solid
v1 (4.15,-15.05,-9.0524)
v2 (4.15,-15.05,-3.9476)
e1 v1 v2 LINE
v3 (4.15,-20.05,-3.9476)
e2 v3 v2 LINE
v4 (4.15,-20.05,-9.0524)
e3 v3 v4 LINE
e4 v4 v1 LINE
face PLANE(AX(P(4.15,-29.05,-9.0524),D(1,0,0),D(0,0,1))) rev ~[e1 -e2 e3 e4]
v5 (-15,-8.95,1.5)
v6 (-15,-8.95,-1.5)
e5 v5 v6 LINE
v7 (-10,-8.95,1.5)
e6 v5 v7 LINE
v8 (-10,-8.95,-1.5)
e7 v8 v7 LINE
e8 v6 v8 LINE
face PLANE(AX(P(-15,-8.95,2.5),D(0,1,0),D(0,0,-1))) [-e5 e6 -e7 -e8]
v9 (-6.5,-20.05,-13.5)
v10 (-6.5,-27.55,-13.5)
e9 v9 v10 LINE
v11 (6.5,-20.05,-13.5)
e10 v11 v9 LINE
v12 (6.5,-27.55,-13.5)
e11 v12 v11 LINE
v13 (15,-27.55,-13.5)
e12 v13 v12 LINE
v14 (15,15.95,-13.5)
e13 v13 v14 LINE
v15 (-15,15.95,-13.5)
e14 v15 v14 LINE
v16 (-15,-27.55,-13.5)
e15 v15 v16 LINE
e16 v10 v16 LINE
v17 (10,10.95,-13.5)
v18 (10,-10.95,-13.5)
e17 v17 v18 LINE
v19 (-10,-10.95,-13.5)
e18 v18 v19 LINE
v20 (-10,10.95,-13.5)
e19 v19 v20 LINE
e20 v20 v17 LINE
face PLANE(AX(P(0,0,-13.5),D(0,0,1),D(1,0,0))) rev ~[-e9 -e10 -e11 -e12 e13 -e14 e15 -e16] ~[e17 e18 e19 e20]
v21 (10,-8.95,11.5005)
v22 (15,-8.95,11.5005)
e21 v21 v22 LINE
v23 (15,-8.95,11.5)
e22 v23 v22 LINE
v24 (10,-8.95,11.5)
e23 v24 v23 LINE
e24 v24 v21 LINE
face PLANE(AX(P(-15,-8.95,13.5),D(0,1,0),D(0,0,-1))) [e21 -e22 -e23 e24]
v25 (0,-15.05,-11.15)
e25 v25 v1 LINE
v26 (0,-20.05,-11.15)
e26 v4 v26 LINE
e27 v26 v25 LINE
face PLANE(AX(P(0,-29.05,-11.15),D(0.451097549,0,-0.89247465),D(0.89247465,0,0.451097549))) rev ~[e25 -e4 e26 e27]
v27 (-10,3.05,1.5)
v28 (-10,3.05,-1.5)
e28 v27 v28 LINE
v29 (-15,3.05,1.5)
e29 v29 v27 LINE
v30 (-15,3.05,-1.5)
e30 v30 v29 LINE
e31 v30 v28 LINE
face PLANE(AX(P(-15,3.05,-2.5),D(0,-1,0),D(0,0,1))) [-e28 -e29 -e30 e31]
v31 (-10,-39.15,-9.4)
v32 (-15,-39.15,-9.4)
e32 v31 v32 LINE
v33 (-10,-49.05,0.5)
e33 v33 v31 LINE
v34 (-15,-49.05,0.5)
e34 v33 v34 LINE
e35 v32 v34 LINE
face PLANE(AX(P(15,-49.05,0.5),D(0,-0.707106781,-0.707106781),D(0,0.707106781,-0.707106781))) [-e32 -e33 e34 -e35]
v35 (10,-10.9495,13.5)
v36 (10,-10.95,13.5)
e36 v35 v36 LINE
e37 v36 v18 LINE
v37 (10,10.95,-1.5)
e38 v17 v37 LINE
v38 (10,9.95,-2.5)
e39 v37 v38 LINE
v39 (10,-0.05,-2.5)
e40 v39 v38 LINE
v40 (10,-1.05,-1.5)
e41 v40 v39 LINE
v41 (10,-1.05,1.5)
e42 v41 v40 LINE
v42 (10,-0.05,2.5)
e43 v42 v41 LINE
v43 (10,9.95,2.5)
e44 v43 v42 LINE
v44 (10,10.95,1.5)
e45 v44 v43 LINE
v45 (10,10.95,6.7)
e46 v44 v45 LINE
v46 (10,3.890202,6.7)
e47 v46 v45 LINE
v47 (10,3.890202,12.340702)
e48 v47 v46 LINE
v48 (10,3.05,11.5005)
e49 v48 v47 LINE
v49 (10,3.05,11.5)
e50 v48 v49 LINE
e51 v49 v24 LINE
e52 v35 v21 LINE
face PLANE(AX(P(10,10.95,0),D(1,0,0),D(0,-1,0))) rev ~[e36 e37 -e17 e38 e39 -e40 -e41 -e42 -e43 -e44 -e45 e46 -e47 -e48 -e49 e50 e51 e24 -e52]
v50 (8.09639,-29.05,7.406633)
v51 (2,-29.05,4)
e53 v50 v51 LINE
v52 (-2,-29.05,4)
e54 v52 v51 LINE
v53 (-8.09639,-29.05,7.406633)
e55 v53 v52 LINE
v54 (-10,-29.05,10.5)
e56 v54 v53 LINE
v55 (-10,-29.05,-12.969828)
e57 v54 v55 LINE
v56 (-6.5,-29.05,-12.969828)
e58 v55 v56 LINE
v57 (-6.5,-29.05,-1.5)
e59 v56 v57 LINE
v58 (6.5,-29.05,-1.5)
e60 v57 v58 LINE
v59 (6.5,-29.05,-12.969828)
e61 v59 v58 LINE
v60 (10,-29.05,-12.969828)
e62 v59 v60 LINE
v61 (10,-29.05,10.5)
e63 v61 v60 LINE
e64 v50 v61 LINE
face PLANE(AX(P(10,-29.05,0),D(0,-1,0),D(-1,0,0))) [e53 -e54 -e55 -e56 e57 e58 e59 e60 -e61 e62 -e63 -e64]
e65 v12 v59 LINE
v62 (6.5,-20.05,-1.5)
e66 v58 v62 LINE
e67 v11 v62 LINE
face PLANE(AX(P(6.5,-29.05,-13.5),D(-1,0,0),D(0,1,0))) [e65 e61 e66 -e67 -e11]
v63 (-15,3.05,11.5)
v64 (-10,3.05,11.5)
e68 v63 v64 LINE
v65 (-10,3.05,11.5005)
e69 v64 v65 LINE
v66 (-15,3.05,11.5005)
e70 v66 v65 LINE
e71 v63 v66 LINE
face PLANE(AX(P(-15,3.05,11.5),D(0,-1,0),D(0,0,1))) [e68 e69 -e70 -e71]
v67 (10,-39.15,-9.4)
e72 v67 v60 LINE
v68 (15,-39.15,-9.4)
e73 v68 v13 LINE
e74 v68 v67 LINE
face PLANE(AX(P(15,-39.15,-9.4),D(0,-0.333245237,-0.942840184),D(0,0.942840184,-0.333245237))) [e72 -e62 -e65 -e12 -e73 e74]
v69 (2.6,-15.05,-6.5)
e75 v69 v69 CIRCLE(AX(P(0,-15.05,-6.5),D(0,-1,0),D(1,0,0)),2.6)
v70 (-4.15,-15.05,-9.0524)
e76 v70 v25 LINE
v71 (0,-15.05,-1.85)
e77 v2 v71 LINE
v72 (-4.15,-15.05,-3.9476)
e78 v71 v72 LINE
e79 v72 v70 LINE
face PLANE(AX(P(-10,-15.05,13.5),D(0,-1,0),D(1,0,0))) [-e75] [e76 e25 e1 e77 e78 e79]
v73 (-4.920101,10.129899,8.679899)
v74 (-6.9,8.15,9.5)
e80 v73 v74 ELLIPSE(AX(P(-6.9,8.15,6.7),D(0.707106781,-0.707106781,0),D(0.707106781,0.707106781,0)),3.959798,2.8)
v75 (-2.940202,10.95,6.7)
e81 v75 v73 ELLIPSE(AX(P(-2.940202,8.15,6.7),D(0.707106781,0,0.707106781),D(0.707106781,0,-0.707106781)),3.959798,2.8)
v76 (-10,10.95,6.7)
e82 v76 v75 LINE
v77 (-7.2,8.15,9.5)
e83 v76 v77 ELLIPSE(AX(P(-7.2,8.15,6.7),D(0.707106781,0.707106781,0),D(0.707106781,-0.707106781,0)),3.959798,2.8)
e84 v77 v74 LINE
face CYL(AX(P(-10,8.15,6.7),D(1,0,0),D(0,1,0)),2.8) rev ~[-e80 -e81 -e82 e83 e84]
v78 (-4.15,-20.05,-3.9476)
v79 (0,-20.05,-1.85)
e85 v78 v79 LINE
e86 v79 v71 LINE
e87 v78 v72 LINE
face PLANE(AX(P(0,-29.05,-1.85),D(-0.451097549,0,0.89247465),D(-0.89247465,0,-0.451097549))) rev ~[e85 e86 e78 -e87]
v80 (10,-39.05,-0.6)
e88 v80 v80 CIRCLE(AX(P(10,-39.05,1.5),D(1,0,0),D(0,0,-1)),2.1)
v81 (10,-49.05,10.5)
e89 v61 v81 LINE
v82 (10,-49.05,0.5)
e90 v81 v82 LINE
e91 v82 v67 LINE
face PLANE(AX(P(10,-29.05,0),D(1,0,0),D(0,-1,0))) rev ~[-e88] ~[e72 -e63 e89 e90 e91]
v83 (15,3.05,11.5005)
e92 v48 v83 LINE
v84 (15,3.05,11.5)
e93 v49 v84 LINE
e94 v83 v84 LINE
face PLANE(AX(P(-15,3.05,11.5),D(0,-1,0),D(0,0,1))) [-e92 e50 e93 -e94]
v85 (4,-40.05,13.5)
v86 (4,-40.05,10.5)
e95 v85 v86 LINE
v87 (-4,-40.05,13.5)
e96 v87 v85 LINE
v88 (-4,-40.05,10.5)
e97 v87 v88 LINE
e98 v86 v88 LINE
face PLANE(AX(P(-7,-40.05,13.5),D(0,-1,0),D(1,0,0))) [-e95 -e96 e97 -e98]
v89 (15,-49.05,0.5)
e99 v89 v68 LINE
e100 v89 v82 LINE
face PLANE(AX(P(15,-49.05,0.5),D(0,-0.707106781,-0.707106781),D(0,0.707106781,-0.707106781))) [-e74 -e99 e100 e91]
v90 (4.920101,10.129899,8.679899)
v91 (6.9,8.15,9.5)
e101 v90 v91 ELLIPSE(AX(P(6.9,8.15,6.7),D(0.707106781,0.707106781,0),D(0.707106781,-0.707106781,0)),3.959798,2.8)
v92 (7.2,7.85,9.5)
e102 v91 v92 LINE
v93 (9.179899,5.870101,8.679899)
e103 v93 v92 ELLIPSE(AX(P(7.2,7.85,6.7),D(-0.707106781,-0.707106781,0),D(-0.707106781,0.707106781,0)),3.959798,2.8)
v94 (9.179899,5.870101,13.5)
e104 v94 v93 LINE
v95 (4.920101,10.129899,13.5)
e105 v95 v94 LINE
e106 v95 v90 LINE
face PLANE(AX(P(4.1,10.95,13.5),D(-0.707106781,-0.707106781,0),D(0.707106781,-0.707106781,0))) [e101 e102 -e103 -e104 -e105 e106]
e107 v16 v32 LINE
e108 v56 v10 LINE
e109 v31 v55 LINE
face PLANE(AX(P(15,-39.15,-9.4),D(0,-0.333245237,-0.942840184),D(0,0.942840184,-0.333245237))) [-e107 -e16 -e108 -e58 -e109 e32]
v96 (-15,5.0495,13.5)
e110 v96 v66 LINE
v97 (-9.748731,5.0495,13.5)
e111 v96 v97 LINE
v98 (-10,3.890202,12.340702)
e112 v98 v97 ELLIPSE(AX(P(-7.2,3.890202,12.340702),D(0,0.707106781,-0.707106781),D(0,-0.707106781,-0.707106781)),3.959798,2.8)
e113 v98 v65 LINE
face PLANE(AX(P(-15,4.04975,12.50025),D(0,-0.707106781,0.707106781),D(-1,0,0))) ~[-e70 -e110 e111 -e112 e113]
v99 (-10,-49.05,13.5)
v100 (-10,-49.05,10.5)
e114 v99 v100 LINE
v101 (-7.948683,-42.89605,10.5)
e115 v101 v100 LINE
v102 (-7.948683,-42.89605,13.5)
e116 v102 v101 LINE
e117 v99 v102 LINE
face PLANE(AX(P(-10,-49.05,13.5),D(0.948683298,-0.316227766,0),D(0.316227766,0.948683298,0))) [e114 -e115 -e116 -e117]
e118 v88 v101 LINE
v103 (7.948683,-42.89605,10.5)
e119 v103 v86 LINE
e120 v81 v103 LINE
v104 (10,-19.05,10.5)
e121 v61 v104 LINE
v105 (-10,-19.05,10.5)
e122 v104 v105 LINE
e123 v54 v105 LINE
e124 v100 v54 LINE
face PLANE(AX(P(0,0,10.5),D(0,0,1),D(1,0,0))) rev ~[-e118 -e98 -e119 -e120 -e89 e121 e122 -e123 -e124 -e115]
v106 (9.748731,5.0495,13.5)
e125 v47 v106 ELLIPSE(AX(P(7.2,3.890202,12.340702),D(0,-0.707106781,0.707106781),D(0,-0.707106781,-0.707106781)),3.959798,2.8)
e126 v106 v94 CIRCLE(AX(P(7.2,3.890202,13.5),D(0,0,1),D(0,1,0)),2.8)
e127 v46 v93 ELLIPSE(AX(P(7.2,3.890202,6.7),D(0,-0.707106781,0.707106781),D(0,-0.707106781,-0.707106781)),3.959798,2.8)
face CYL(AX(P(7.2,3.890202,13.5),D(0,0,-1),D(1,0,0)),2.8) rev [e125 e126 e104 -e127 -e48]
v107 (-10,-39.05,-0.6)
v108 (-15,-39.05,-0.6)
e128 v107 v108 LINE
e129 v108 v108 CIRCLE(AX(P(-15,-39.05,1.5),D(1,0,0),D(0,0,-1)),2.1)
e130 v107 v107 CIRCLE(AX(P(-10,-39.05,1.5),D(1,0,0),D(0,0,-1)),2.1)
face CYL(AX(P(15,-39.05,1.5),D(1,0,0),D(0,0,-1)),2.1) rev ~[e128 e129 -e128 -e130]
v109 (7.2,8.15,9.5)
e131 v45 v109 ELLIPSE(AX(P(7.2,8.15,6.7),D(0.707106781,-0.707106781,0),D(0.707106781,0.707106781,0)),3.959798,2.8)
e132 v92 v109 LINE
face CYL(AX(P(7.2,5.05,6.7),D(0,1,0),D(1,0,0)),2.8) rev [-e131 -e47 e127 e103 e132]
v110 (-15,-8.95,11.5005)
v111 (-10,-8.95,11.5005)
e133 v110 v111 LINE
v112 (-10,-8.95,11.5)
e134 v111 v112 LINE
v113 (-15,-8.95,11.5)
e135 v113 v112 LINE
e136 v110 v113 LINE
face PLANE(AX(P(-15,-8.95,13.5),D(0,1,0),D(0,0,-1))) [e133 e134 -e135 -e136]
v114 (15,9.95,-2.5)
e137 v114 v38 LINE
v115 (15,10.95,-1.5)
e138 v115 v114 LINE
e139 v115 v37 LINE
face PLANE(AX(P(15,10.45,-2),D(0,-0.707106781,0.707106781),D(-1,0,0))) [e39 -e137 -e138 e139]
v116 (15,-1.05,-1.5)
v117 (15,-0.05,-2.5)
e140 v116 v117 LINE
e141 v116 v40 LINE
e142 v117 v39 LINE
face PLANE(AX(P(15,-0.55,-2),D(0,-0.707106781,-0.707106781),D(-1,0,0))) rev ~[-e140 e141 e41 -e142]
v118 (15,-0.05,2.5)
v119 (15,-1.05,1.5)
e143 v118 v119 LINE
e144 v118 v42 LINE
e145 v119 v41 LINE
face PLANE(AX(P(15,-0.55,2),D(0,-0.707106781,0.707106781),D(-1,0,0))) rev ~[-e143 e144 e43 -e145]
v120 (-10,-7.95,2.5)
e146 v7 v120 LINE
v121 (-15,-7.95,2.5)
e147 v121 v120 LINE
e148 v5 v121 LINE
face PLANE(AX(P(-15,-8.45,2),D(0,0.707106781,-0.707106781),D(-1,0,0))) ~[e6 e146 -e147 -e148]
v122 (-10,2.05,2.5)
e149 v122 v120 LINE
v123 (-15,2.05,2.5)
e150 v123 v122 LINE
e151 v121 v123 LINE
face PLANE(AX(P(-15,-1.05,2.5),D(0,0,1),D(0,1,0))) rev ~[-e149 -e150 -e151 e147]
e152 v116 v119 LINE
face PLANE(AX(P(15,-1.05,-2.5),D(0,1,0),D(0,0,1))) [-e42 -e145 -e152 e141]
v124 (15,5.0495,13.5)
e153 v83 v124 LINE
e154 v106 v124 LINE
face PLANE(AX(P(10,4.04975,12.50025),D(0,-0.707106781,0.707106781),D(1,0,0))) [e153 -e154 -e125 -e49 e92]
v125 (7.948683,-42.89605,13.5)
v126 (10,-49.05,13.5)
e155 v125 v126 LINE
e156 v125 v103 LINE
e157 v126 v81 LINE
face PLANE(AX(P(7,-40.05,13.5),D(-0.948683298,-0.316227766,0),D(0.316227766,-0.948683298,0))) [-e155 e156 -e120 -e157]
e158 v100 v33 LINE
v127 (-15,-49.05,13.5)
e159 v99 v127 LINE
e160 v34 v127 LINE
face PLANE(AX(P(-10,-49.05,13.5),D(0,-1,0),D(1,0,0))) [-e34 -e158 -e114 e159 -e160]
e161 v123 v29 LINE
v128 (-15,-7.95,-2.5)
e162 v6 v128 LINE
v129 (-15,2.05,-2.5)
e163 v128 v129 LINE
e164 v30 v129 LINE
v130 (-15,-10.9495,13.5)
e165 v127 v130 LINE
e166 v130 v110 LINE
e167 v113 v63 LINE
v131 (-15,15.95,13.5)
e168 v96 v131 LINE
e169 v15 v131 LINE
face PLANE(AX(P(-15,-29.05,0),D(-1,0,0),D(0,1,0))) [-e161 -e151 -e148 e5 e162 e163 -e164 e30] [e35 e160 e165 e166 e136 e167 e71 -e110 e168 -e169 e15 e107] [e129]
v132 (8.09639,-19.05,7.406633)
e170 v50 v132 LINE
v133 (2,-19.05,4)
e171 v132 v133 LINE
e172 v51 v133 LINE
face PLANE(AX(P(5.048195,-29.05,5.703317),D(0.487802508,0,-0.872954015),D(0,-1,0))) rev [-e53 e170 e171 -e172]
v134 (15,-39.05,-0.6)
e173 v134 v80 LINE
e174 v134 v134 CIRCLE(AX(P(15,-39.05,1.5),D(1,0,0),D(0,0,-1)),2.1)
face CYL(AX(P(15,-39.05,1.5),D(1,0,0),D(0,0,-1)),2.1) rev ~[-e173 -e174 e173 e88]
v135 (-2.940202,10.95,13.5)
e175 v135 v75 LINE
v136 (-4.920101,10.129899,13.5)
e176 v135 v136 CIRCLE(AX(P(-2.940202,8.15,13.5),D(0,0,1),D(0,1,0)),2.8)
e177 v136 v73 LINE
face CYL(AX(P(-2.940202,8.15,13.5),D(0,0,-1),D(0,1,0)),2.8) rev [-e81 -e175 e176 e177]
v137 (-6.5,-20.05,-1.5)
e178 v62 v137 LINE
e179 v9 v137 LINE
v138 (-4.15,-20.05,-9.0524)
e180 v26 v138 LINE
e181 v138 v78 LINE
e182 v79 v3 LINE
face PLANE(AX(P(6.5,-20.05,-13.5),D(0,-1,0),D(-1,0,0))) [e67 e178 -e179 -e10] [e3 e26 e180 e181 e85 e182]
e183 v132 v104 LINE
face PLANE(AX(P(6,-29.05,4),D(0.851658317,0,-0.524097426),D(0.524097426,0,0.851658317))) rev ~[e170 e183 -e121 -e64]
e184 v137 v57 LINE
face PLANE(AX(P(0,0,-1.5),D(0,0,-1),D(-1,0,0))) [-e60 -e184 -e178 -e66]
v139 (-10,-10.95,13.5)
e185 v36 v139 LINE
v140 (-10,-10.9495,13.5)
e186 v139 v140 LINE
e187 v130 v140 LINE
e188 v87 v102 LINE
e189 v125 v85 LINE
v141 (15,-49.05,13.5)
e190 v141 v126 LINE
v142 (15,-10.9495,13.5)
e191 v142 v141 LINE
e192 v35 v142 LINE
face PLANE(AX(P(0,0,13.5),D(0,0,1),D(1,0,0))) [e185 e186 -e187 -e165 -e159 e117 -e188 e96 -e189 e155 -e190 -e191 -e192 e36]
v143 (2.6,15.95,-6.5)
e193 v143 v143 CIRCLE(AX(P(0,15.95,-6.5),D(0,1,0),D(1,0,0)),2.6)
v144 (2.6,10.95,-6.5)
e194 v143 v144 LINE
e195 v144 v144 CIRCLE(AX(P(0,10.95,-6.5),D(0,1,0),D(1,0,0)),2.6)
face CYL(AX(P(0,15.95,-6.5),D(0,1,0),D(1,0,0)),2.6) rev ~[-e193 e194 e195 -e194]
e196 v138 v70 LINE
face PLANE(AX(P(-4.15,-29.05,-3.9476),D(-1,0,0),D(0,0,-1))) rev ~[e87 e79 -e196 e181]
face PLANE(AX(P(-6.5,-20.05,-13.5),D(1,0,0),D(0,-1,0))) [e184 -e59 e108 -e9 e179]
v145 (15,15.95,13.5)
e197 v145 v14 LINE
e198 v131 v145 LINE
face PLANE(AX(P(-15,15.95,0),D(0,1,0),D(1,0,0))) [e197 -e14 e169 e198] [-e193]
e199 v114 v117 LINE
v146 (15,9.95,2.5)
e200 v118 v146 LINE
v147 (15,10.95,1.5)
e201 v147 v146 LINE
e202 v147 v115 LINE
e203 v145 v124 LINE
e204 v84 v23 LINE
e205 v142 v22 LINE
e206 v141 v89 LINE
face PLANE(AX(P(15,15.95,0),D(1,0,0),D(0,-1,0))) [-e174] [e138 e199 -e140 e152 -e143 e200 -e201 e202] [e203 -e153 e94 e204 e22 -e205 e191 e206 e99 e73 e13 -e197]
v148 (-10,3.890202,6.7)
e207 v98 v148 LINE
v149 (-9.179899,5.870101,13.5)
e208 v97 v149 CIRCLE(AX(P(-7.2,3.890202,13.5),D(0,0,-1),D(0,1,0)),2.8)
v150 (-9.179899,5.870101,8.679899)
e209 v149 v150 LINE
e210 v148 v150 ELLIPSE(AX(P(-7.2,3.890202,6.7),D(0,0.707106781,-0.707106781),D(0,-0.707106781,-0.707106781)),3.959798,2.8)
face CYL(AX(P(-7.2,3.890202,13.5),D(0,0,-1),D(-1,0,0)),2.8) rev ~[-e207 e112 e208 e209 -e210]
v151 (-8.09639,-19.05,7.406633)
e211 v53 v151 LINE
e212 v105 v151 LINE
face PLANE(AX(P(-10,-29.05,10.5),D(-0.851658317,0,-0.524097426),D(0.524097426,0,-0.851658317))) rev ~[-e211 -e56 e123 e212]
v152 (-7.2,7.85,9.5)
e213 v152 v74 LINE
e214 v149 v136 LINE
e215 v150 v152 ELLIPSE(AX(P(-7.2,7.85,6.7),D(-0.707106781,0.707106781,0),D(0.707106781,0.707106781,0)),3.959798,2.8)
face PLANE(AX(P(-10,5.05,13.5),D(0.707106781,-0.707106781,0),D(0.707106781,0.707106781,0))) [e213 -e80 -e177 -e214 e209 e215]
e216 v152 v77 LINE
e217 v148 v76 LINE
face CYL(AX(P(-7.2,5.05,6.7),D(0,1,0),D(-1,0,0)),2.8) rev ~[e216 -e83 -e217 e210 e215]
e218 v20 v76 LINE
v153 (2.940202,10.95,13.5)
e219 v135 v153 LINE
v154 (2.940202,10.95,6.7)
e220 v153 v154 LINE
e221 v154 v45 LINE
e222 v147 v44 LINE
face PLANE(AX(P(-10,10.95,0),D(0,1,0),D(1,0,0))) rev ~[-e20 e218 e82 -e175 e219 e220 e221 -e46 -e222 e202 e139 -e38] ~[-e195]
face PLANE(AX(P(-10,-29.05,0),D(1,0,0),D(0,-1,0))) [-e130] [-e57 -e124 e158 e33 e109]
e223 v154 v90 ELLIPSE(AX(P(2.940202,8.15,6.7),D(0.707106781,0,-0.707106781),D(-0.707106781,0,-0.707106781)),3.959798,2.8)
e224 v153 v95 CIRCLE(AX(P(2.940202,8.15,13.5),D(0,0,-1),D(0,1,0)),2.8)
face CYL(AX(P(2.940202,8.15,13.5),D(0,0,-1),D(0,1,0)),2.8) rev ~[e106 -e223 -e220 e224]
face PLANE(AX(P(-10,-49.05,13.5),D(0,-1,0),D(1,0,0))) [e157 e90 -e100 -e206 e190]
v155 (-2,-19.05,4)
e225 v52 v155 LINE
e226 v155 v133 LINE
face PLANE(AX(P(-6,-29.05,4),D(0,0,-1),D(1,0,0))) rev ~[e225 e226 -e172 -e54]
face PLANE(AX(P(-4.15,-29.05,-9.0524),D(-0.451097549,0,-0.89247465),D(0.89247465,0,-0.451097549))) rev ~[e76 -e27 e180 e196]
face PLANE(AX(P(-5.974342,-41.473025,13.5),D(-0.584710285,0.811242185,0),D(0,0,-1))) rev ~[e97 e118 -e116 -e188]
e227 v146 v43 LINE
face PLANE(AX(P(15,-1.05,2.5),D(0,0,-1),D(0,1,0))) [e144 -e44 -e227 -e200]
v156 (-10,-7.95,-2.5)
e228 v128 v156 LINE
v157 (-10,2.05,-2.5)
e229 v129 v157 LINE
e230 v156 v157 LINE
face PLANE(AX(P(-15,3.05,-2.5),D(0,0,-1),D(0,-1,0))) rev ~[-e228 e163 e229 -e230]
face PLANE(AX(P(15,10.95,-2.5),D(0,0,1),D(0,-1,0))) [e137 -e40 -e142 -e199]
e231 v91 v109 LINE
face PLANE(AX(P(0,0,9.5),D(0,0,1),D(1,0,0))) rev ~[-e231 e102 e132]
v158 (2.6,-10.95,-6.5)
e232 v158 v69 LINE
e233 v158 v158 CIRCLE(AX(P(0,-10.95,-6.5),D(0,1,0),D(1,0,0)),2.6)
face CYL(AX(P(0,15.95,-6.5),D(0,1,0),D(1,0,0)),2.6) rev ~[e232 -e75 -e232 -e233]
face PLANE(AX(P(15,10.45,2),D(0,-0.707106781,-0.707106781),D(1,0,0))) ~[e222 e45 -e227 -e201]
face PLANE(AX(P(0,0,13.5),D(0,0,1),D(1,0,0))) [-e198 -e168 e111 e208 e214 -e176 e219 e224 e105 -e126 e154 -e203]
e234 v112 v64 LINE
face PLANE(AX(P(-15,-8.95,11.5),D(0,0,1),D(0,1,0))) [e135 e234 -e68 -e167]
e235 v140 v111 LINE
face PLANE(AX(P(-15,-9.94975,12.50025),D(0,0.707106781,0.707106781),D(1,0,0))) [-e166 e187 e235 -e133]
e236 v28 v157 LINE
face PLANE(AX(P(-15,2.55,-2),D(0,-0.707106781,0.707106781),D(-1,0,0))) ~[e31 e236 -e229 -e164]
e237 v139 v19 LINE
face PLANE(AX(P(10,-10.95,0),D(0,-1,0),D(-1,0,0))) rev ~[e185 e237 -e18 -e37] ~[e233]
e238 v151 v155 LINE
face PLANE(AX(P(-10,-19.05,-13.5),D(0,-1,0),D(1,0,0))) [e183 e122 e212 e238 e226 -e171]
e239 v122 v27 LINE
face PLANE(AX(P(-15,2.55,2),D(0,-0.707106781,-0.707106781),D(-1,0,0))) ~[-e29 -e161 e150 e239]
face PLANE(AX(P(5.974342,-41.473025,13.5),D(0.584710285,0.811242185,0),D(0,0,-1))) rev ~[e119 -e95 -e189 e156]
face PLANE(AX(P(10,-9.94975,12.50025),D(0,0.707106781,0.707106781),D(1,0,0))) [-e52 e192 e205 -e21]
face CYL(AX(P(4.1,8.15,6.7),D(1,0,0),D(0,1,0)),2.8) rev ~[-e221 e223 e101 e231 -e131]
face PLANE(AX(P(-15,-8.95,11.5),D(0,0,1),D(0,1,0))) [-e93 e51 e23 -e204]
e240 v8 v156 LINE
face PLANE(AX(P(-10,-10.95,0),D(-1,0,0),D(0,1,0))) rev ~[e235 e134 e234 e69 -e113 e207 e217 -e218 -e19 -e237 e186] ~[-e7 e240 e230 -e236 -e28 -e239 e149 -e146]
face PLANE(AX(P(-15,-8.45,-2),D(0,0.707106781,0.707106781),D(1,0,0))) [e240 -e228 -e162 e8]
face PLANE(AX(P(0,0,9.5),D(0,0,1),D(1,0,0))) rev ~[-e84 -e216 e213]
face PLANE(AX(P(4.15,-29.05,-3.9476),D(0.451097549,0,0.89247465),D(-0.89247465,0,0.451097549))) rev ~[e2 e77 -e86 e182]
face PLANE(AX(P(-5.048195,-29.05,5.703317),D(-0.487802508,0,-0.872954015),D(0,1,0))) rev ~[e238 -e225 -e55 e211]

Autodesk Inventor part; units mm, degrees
ref_plane "YZ Plane" through (0, 0, 0) normal (1, 0, 0) x (0, 1, 0)
ref_plane "XZ Plane" through (0, 0, 0) normal (0, 1, 0) x (-1, 0, 0)
ref_plane "XY Plane" through (0, 0, 0) normal (0, 0, 1) x (1, 0, 0)
sketch "Sketch1" plane through (0, 0, 0) normal (0, 0, 1) x (1, 0, 0)
  line L0 (-10, 10.95) -> (10, 10.95)
  line L1 (10, 10.95) -> (10, -10.95)
  line L2 (10, -10.95) -> (-10, -10.95)
  line L3 (-10, -10.95) -> (-10, 10.95)
  line L4 (-15, 15.95) -> (15, 15.95)
  line L5 (15, 15.95) -> (15, -29.05)
  line L6 (15, -29.05) -> (10, -29.05) construction
  line L7 (-15, -29.05) -> (-15, 15.95)
  line L8 (-15, -29.05) -> (-10, -29.05) construction
  line L9 (-10, -29.05) -> (-10, -49.05)
  line L10 (-10, -49.05) -> (-15, -49.05)
  line L11 (-15, -49.05) -> (-15, -29.05)
  line L12 (15, -29.05) -> (10, -29.05) construction
  line L13 (10, -29.05) -> (10, -49.05)
  line L14 (10, -49.05) -> (15, -49.05)
  line L15 (15, -49.05) -> (15, -29.05)
  line L16 (-10, -29.05) -> (-15, -29.05) construction
  line L17 (10, -29.05) -> (-10, -29.05)
  point P0 (0, 0)
  point P1 (0, 10.95)
  point P2 (10, 0)
  dimension "d0" = 20
  dimension "d1" = 21.9
  dimension "d2" = 5
  dimension "d3" = 5
  dimension "d4" = 5
  dimension "d5" = 18.1
  dimension "d6" = 20
extrude "Extrusion1" add sketch "Sketch1" along normal mid plane 27
sketch "Sketch3" plane through (-15, 15.95, 13.5) normal (0, 1, 0) x (1, 0, 0)
  circle A0 centre (15, 20) radius 2.6
  line L0 (0, 27) -> (30, 27) projected
  point P0 (15, 13.5)
  point P1 (15, 27)
  dimension "d9" = 5.2
  dimension "d10" = 7
extrude "Extrusion2" cut sketch "Sketch3" against normal through all
sketch "Sketch4" plane through (-10, -29.05, 13.5) normal (0, -1, 0) x (1, 0, 0)
  circle A0 centre (10, -20) radius 2.6 projected
  line L0 (14.15, -22.5524) -> (14.15, -17.4476)
  line L1 (14.15, -17.4476) -> (10, -15.35)
  line L2 (10, -15.35) -> (5.85, -17.4476)
  line L3 (5.85, -17.4476) -> (5.85, -22.5524)
  line L4 (5.85, -22.5524) -> (10, -24.65)
  line L5 (10, -24.65) -> (14.15, -22.5524)
  point P0 (10, -13.5)
  point P1 (14.15, -20)
  dimension "d13" = 9.3
  dimension "d14" = 8.3
  dimension "d15" = 8.3
extrude "Extrusion3" cut sketch "Sketch4" against normal blind 14
sketch "Sketch5" plane through (0, 0, 13.5) normal (0, 0, 1) x (1, 0, 0)
  line L0 (10, -29.05) -> (10, -49.05) projected
  line L1 (-10, -29.05) -> (10, -29.05) projected
  line L2 (-10, -49.05) -> (-10, -29.05) projected
  line L3 (10, -29.05) -> (-10, -29.05)
  line L4 (-10, -29.05) -> (-10, -49.05)
  line L5 (-10, -49.05) -> (10, -49.05)
  line L6 (10, -49.05) -> (10, -29.05)
  point P0 (0, 0)
extrude "Extrusion4" add sketch "Sketch5" against normal blind 3
sketch "Sketch6" plane through (15, -49.05, 13.5) normal (1, 0, 0) x (0, 0, -1)
  line L0 (27, 60) -> (27, 38.1) projected
  line L1 (11, 60) -> (16, 60)
  line L2 (16, 60) -> (16, 48)
  line L3 (16, 48) -> (11, 48)
  line L4 (11, 48) -> (11, 60)
  line L5 (17.4, 65) -> (22.6, 65) projected
  line L6 (0, 65) -> (27, 65) projected
  point P0 (13.5, 49.05)
  point P1 (20, 65)
  point P2 (20, 65)
  dimension "d20" = 5
  dimension "d21" = 12
  dimension "d32" = 4
extrude "Extrusion5" cut sketch "Sketch6" against normal up to next
sketch "Sketch7" plane through (-15, -49.05, 13.5) normal (-1, 0, 0) x (0, 0, 1)
  line L0 (-11, 48) -> (-11, 60) projected
  line L1 (-11, 60) -> (-16, 60) projected
  line L2 (-16, 60) -> (-16, 48) projected
  line L3 (-16, 48) -> (-11, 48) projected
  line L4 (0, 65) -> (-27, 65) projected
  line L5 (0, 0) -> (0, 65) projected
  line L6 (0, 0) -> (-27, 0) projected
  line L7 (-27, 65) -> (-27, 0) projected
  line L8 (-16, 52.1) -> (-11, 52.1)
  line L9 (-11, 52.1) -> (-11, 40.1)
  line L10 (-11, 40.1) -> (-16, 40.1)
  line L11 (-16, 40.1) -> (-16, 52.1)
  point P0 (-13.5, 49.05)
  point P1 (-27, 38.1)
  dimension "d25" = 5
  dimension "d26" = 12
  dimension "d62" = 2
extrude "Extrusion6" cut sketch "Sketch7" against normal up to next contours L3 L2 L8 L0 | L9 L10 L11 L3
chamfer "Chamfer1" distance 1 angle 45 8 edges at (-12.5, 3.05, 2.5) (-12.5, 3.05, -2.5) (12.5, -1.05, 2.5) (12.5, -1.05, -2.5) (-12.5, -8.95, -2.5) (-12.5, -8.95, 2.5) (12.5, 10.95, 2.5) (12.5, 10.95, -2.5)
sketch "Sketch8" plane through (15, -49.05, 13.5) normal (1, 0, 0) x (0, 0, -1)
  circle A0 centre (12, 10) radius 2.1
  line L0 (0, 0) -> (27, 0) projected
  point P0 (13.5, 49.05)
  dimension "d33" = 4.2
  dimension "d34" = 10
  dimension "d35" = 15
extrude "Extrusion7" cut sketch "Sketch8" against normal through all
sketch "Sketch9" plane through (0, 0, 13.5) normal (0, 0, 1) x (1, 0, 0)
  line L0 (10, -29.05) -> (-10, -29.05) projected
  line L1 (10, -49.05) -> (10, -29.05) projected
  line L2 (10, -49.05) -> (-10, -49.05) projected
  line L3 (-10, -29.05) -> (-10, -49.05) projected
  line L4 (-10, -49.05) -> (-7, -40.05)
  line L5 (-7, -40.05) -> (7, -40.05)
  line L6 (10, -49.05) -> (10, -29.05) projected
  line L7 (7, -40.05) -> (10, -49.05)
  point P0 (0, 0)
  dimension "d38" = 9
  dimension "d39" = 3
extrude "Extrusion8" cut sketch "Sketch9" against normal up to next contours L2 L4 L5 L7
chamfer "Chamfer2" distance 3 angle 45 2 edges at (-7, -40.05, 12) (7, -40.05, 12)
sketch "Sketch10" plane through (-10, -29.05, -13.5) normal (0, -1, 0) x (1, 0, 0)
  line L0 (20, 24) -> (0, 24) projected
  line L1 (0, 24) -> (0, 0) projected
  line L2 (20, 0) -> (0, 0) projected
  line L3 (20, 24) -> (20, 0) projected
  line L4 (10, 11.65) -> (14.15, 9.5524) projected
  line L5 (14.15, 9.5524) -> (14.15, 4.4476) projected
  line L6 (14.15, 4.4476) -> (10, 2.35) projected
  line L7 (10, 2.35) -> (5.85, 4.4476) projected
  line L8 (5.85, 4.4476) -> (5.85, 9.5524) projected
  line L9 (5.85, 9.5524) -> (10, 11.65) projected
  line L10 (20, 24) -> (0, 24) projected
  line L11 (0, 24) -> (4, 17.5)
  line L12 (4, 17.5) -> (16, 17.5)
  line L13 (16, 17.5) -> (20, 24)
  point P0 (10, 13.5)
  point P1 (10, 17.5)
  point P2 (10, 24)
  dimension "d45" = 6.5
  dimension "d46" = 12
extrude "Extrusion9" cut sketch "Sketch10" against normal blind 10 contours L13 L12 L11 L0
chamfer "Chamfer3" distance 4 angle 45 2 edges at (6, -24.05, 4) (-6, -24.05, 4)
sketch "Sketch11" plane through (0, 0, -13.5) normal (0, 0, -1) x (-1, 0, 0)
  line L0 (8.0964, -29.05) -> (2, -29.05) projected
  line L1 (-6.5, -20.05) -> (6.5, -20.05)
  line L2 (6.5, -20.05) -> (6.5, -29.05)
  line L3 (6.5, -29.05) -> (-6.5, -29.05)
  line L4 (-6.5, -29.05) -> (-6.5, -20.05)
  line L5 (-10, -29.05) -> (10, -29.05) projected
  point P0 (0, 0)
  point P1 (0, -20.05)
  point P2 (0, -29.05)
  dimension "d52" = 13
  dimension "d53" = 9
extrude "Extrusion10" cut sketch "Sketch11" against normal blind 12
sketch "Sketch12" plane through (15, -49.05, 13.5) normal (1, 0, 0) x (0, 0, -1)
  line L0 (0, 0) -> (27, 0) projected
  line L1 (13, 0) -> (27, 14)
  line L2 (27, 65) -> (27, 0) projected
  line L3 (22.9, 9.9) -> (27, 21.5)
  point P0 (13.5, 49.05)
  dimension "d56" = 45
  dimension "d57" = 14
  dimension "d58" = 4.1
  dimension "d59" = 7.5
extrude "Extrusion11" cut sketch "Sketch12" against normal through all
sketch "Sketch13" plane through (-15, -49.05, 13.5) normal (-1, 0, 0) x (0, 0, 1)
  line L0 (-16, 41.1) -> (-16, 51.1) projected
  line L1 (-12, 40.1) -> (-15, 40.1) projected
  line L2 (-22.9, 9.9) -> (-13, 0) projected
  line L3 (0, 0) -> (-13, 0) projected
  line L4 (0, 65) -> (0, 0) projected
  line L5 (-27, 65) -> (0, 65) projected
  line L6 (-27, 21.5) -> (-27, 65) projected
  line L7 (-27, 21.5) -> (-22.9, 9.9) projected
  circle A0 centre (-12, 10) radius 2.1 projected
  line L8 (-12, 40.1) -> (-15, 40.1) projected
  line L9 (-16, 41.1) -> (-15, 40.1) projected
  line L10 (-16, 41.1) -> (-16, 51.1) projected
  line L11 (-15, 52.1) -> (-16, 51.1) projected
  line L12 (-15, 52.1) -> (-12, 52.1) projected
  line L13 (-11, 51.1) -> (-12, 52.1) projected
  line L14 (-11, 51.1) -> (-11, 41.1) projected
  line L15 (-12, 40.1) -> (-11, 41.1) projected
  line L16 (0, 38.1) -> (0, 60) projected
  line L17 (0, 40.1) -> (-2, 40.1)
  line L18 (-2, 40.1) -> (-2, 52.1)
  line L19 (-2, 52.1) -> (0, 52.1)
  point P0 (-13.5, 49.05)
  dimension "d63" = 2
extrude "Extrusion12" cut sketch "Sketch13" against normal through all contours L17 L18 L19 L4
chamfer "Chamfer4" distance 2 angle 45 4 edges at (-12.5, -8.95, 13.5) (-12.5, 3.05, 13.5) (12.5, -8.95, 13.5) (12.5, 3.05, 13.5)
sketch "Sketch14" plane through (0, 0, 13.5) normal (0, 0, 1) x (1, 0, 0)
  line L0 (-10, 5.05) -> (-10, 10.95) projected
  line L1 (-10, 5.05) -> (-4.1, 10.95)
  line L2 (10, -0.05) -> (10, 9.95) projected
  line L3 (-10, 10.95) -> (10, 10.95) projected
  line L4 (10, 10.95) -> (4.1, 10.95)
  line L5 (10, 5.05) -> (10, 10.95)
  line L6 (4.1, 10.95) -> (10, 5.05)
  point P0 (0, 0)
  dimension "d69" = 45
extrude "Extrusion13" add sketch "Sketch14" against normal blind 4
fillet "Fillet1" radius 2.8 8 edges at (-7.05, 10.95, 9.5) (-10, 8, 9.5) (10, 8, 9.5) (7.05, 10.95, 9.5) (4.1, 10.95, 11.5) (-4.1, 10.95, 11.5) (-10, 5.05, 11.5) (10, 5.05, 11.5)
equation "\"d4\" = d3"
properties part number "holder-GT2-x-carriage-V2-right"
